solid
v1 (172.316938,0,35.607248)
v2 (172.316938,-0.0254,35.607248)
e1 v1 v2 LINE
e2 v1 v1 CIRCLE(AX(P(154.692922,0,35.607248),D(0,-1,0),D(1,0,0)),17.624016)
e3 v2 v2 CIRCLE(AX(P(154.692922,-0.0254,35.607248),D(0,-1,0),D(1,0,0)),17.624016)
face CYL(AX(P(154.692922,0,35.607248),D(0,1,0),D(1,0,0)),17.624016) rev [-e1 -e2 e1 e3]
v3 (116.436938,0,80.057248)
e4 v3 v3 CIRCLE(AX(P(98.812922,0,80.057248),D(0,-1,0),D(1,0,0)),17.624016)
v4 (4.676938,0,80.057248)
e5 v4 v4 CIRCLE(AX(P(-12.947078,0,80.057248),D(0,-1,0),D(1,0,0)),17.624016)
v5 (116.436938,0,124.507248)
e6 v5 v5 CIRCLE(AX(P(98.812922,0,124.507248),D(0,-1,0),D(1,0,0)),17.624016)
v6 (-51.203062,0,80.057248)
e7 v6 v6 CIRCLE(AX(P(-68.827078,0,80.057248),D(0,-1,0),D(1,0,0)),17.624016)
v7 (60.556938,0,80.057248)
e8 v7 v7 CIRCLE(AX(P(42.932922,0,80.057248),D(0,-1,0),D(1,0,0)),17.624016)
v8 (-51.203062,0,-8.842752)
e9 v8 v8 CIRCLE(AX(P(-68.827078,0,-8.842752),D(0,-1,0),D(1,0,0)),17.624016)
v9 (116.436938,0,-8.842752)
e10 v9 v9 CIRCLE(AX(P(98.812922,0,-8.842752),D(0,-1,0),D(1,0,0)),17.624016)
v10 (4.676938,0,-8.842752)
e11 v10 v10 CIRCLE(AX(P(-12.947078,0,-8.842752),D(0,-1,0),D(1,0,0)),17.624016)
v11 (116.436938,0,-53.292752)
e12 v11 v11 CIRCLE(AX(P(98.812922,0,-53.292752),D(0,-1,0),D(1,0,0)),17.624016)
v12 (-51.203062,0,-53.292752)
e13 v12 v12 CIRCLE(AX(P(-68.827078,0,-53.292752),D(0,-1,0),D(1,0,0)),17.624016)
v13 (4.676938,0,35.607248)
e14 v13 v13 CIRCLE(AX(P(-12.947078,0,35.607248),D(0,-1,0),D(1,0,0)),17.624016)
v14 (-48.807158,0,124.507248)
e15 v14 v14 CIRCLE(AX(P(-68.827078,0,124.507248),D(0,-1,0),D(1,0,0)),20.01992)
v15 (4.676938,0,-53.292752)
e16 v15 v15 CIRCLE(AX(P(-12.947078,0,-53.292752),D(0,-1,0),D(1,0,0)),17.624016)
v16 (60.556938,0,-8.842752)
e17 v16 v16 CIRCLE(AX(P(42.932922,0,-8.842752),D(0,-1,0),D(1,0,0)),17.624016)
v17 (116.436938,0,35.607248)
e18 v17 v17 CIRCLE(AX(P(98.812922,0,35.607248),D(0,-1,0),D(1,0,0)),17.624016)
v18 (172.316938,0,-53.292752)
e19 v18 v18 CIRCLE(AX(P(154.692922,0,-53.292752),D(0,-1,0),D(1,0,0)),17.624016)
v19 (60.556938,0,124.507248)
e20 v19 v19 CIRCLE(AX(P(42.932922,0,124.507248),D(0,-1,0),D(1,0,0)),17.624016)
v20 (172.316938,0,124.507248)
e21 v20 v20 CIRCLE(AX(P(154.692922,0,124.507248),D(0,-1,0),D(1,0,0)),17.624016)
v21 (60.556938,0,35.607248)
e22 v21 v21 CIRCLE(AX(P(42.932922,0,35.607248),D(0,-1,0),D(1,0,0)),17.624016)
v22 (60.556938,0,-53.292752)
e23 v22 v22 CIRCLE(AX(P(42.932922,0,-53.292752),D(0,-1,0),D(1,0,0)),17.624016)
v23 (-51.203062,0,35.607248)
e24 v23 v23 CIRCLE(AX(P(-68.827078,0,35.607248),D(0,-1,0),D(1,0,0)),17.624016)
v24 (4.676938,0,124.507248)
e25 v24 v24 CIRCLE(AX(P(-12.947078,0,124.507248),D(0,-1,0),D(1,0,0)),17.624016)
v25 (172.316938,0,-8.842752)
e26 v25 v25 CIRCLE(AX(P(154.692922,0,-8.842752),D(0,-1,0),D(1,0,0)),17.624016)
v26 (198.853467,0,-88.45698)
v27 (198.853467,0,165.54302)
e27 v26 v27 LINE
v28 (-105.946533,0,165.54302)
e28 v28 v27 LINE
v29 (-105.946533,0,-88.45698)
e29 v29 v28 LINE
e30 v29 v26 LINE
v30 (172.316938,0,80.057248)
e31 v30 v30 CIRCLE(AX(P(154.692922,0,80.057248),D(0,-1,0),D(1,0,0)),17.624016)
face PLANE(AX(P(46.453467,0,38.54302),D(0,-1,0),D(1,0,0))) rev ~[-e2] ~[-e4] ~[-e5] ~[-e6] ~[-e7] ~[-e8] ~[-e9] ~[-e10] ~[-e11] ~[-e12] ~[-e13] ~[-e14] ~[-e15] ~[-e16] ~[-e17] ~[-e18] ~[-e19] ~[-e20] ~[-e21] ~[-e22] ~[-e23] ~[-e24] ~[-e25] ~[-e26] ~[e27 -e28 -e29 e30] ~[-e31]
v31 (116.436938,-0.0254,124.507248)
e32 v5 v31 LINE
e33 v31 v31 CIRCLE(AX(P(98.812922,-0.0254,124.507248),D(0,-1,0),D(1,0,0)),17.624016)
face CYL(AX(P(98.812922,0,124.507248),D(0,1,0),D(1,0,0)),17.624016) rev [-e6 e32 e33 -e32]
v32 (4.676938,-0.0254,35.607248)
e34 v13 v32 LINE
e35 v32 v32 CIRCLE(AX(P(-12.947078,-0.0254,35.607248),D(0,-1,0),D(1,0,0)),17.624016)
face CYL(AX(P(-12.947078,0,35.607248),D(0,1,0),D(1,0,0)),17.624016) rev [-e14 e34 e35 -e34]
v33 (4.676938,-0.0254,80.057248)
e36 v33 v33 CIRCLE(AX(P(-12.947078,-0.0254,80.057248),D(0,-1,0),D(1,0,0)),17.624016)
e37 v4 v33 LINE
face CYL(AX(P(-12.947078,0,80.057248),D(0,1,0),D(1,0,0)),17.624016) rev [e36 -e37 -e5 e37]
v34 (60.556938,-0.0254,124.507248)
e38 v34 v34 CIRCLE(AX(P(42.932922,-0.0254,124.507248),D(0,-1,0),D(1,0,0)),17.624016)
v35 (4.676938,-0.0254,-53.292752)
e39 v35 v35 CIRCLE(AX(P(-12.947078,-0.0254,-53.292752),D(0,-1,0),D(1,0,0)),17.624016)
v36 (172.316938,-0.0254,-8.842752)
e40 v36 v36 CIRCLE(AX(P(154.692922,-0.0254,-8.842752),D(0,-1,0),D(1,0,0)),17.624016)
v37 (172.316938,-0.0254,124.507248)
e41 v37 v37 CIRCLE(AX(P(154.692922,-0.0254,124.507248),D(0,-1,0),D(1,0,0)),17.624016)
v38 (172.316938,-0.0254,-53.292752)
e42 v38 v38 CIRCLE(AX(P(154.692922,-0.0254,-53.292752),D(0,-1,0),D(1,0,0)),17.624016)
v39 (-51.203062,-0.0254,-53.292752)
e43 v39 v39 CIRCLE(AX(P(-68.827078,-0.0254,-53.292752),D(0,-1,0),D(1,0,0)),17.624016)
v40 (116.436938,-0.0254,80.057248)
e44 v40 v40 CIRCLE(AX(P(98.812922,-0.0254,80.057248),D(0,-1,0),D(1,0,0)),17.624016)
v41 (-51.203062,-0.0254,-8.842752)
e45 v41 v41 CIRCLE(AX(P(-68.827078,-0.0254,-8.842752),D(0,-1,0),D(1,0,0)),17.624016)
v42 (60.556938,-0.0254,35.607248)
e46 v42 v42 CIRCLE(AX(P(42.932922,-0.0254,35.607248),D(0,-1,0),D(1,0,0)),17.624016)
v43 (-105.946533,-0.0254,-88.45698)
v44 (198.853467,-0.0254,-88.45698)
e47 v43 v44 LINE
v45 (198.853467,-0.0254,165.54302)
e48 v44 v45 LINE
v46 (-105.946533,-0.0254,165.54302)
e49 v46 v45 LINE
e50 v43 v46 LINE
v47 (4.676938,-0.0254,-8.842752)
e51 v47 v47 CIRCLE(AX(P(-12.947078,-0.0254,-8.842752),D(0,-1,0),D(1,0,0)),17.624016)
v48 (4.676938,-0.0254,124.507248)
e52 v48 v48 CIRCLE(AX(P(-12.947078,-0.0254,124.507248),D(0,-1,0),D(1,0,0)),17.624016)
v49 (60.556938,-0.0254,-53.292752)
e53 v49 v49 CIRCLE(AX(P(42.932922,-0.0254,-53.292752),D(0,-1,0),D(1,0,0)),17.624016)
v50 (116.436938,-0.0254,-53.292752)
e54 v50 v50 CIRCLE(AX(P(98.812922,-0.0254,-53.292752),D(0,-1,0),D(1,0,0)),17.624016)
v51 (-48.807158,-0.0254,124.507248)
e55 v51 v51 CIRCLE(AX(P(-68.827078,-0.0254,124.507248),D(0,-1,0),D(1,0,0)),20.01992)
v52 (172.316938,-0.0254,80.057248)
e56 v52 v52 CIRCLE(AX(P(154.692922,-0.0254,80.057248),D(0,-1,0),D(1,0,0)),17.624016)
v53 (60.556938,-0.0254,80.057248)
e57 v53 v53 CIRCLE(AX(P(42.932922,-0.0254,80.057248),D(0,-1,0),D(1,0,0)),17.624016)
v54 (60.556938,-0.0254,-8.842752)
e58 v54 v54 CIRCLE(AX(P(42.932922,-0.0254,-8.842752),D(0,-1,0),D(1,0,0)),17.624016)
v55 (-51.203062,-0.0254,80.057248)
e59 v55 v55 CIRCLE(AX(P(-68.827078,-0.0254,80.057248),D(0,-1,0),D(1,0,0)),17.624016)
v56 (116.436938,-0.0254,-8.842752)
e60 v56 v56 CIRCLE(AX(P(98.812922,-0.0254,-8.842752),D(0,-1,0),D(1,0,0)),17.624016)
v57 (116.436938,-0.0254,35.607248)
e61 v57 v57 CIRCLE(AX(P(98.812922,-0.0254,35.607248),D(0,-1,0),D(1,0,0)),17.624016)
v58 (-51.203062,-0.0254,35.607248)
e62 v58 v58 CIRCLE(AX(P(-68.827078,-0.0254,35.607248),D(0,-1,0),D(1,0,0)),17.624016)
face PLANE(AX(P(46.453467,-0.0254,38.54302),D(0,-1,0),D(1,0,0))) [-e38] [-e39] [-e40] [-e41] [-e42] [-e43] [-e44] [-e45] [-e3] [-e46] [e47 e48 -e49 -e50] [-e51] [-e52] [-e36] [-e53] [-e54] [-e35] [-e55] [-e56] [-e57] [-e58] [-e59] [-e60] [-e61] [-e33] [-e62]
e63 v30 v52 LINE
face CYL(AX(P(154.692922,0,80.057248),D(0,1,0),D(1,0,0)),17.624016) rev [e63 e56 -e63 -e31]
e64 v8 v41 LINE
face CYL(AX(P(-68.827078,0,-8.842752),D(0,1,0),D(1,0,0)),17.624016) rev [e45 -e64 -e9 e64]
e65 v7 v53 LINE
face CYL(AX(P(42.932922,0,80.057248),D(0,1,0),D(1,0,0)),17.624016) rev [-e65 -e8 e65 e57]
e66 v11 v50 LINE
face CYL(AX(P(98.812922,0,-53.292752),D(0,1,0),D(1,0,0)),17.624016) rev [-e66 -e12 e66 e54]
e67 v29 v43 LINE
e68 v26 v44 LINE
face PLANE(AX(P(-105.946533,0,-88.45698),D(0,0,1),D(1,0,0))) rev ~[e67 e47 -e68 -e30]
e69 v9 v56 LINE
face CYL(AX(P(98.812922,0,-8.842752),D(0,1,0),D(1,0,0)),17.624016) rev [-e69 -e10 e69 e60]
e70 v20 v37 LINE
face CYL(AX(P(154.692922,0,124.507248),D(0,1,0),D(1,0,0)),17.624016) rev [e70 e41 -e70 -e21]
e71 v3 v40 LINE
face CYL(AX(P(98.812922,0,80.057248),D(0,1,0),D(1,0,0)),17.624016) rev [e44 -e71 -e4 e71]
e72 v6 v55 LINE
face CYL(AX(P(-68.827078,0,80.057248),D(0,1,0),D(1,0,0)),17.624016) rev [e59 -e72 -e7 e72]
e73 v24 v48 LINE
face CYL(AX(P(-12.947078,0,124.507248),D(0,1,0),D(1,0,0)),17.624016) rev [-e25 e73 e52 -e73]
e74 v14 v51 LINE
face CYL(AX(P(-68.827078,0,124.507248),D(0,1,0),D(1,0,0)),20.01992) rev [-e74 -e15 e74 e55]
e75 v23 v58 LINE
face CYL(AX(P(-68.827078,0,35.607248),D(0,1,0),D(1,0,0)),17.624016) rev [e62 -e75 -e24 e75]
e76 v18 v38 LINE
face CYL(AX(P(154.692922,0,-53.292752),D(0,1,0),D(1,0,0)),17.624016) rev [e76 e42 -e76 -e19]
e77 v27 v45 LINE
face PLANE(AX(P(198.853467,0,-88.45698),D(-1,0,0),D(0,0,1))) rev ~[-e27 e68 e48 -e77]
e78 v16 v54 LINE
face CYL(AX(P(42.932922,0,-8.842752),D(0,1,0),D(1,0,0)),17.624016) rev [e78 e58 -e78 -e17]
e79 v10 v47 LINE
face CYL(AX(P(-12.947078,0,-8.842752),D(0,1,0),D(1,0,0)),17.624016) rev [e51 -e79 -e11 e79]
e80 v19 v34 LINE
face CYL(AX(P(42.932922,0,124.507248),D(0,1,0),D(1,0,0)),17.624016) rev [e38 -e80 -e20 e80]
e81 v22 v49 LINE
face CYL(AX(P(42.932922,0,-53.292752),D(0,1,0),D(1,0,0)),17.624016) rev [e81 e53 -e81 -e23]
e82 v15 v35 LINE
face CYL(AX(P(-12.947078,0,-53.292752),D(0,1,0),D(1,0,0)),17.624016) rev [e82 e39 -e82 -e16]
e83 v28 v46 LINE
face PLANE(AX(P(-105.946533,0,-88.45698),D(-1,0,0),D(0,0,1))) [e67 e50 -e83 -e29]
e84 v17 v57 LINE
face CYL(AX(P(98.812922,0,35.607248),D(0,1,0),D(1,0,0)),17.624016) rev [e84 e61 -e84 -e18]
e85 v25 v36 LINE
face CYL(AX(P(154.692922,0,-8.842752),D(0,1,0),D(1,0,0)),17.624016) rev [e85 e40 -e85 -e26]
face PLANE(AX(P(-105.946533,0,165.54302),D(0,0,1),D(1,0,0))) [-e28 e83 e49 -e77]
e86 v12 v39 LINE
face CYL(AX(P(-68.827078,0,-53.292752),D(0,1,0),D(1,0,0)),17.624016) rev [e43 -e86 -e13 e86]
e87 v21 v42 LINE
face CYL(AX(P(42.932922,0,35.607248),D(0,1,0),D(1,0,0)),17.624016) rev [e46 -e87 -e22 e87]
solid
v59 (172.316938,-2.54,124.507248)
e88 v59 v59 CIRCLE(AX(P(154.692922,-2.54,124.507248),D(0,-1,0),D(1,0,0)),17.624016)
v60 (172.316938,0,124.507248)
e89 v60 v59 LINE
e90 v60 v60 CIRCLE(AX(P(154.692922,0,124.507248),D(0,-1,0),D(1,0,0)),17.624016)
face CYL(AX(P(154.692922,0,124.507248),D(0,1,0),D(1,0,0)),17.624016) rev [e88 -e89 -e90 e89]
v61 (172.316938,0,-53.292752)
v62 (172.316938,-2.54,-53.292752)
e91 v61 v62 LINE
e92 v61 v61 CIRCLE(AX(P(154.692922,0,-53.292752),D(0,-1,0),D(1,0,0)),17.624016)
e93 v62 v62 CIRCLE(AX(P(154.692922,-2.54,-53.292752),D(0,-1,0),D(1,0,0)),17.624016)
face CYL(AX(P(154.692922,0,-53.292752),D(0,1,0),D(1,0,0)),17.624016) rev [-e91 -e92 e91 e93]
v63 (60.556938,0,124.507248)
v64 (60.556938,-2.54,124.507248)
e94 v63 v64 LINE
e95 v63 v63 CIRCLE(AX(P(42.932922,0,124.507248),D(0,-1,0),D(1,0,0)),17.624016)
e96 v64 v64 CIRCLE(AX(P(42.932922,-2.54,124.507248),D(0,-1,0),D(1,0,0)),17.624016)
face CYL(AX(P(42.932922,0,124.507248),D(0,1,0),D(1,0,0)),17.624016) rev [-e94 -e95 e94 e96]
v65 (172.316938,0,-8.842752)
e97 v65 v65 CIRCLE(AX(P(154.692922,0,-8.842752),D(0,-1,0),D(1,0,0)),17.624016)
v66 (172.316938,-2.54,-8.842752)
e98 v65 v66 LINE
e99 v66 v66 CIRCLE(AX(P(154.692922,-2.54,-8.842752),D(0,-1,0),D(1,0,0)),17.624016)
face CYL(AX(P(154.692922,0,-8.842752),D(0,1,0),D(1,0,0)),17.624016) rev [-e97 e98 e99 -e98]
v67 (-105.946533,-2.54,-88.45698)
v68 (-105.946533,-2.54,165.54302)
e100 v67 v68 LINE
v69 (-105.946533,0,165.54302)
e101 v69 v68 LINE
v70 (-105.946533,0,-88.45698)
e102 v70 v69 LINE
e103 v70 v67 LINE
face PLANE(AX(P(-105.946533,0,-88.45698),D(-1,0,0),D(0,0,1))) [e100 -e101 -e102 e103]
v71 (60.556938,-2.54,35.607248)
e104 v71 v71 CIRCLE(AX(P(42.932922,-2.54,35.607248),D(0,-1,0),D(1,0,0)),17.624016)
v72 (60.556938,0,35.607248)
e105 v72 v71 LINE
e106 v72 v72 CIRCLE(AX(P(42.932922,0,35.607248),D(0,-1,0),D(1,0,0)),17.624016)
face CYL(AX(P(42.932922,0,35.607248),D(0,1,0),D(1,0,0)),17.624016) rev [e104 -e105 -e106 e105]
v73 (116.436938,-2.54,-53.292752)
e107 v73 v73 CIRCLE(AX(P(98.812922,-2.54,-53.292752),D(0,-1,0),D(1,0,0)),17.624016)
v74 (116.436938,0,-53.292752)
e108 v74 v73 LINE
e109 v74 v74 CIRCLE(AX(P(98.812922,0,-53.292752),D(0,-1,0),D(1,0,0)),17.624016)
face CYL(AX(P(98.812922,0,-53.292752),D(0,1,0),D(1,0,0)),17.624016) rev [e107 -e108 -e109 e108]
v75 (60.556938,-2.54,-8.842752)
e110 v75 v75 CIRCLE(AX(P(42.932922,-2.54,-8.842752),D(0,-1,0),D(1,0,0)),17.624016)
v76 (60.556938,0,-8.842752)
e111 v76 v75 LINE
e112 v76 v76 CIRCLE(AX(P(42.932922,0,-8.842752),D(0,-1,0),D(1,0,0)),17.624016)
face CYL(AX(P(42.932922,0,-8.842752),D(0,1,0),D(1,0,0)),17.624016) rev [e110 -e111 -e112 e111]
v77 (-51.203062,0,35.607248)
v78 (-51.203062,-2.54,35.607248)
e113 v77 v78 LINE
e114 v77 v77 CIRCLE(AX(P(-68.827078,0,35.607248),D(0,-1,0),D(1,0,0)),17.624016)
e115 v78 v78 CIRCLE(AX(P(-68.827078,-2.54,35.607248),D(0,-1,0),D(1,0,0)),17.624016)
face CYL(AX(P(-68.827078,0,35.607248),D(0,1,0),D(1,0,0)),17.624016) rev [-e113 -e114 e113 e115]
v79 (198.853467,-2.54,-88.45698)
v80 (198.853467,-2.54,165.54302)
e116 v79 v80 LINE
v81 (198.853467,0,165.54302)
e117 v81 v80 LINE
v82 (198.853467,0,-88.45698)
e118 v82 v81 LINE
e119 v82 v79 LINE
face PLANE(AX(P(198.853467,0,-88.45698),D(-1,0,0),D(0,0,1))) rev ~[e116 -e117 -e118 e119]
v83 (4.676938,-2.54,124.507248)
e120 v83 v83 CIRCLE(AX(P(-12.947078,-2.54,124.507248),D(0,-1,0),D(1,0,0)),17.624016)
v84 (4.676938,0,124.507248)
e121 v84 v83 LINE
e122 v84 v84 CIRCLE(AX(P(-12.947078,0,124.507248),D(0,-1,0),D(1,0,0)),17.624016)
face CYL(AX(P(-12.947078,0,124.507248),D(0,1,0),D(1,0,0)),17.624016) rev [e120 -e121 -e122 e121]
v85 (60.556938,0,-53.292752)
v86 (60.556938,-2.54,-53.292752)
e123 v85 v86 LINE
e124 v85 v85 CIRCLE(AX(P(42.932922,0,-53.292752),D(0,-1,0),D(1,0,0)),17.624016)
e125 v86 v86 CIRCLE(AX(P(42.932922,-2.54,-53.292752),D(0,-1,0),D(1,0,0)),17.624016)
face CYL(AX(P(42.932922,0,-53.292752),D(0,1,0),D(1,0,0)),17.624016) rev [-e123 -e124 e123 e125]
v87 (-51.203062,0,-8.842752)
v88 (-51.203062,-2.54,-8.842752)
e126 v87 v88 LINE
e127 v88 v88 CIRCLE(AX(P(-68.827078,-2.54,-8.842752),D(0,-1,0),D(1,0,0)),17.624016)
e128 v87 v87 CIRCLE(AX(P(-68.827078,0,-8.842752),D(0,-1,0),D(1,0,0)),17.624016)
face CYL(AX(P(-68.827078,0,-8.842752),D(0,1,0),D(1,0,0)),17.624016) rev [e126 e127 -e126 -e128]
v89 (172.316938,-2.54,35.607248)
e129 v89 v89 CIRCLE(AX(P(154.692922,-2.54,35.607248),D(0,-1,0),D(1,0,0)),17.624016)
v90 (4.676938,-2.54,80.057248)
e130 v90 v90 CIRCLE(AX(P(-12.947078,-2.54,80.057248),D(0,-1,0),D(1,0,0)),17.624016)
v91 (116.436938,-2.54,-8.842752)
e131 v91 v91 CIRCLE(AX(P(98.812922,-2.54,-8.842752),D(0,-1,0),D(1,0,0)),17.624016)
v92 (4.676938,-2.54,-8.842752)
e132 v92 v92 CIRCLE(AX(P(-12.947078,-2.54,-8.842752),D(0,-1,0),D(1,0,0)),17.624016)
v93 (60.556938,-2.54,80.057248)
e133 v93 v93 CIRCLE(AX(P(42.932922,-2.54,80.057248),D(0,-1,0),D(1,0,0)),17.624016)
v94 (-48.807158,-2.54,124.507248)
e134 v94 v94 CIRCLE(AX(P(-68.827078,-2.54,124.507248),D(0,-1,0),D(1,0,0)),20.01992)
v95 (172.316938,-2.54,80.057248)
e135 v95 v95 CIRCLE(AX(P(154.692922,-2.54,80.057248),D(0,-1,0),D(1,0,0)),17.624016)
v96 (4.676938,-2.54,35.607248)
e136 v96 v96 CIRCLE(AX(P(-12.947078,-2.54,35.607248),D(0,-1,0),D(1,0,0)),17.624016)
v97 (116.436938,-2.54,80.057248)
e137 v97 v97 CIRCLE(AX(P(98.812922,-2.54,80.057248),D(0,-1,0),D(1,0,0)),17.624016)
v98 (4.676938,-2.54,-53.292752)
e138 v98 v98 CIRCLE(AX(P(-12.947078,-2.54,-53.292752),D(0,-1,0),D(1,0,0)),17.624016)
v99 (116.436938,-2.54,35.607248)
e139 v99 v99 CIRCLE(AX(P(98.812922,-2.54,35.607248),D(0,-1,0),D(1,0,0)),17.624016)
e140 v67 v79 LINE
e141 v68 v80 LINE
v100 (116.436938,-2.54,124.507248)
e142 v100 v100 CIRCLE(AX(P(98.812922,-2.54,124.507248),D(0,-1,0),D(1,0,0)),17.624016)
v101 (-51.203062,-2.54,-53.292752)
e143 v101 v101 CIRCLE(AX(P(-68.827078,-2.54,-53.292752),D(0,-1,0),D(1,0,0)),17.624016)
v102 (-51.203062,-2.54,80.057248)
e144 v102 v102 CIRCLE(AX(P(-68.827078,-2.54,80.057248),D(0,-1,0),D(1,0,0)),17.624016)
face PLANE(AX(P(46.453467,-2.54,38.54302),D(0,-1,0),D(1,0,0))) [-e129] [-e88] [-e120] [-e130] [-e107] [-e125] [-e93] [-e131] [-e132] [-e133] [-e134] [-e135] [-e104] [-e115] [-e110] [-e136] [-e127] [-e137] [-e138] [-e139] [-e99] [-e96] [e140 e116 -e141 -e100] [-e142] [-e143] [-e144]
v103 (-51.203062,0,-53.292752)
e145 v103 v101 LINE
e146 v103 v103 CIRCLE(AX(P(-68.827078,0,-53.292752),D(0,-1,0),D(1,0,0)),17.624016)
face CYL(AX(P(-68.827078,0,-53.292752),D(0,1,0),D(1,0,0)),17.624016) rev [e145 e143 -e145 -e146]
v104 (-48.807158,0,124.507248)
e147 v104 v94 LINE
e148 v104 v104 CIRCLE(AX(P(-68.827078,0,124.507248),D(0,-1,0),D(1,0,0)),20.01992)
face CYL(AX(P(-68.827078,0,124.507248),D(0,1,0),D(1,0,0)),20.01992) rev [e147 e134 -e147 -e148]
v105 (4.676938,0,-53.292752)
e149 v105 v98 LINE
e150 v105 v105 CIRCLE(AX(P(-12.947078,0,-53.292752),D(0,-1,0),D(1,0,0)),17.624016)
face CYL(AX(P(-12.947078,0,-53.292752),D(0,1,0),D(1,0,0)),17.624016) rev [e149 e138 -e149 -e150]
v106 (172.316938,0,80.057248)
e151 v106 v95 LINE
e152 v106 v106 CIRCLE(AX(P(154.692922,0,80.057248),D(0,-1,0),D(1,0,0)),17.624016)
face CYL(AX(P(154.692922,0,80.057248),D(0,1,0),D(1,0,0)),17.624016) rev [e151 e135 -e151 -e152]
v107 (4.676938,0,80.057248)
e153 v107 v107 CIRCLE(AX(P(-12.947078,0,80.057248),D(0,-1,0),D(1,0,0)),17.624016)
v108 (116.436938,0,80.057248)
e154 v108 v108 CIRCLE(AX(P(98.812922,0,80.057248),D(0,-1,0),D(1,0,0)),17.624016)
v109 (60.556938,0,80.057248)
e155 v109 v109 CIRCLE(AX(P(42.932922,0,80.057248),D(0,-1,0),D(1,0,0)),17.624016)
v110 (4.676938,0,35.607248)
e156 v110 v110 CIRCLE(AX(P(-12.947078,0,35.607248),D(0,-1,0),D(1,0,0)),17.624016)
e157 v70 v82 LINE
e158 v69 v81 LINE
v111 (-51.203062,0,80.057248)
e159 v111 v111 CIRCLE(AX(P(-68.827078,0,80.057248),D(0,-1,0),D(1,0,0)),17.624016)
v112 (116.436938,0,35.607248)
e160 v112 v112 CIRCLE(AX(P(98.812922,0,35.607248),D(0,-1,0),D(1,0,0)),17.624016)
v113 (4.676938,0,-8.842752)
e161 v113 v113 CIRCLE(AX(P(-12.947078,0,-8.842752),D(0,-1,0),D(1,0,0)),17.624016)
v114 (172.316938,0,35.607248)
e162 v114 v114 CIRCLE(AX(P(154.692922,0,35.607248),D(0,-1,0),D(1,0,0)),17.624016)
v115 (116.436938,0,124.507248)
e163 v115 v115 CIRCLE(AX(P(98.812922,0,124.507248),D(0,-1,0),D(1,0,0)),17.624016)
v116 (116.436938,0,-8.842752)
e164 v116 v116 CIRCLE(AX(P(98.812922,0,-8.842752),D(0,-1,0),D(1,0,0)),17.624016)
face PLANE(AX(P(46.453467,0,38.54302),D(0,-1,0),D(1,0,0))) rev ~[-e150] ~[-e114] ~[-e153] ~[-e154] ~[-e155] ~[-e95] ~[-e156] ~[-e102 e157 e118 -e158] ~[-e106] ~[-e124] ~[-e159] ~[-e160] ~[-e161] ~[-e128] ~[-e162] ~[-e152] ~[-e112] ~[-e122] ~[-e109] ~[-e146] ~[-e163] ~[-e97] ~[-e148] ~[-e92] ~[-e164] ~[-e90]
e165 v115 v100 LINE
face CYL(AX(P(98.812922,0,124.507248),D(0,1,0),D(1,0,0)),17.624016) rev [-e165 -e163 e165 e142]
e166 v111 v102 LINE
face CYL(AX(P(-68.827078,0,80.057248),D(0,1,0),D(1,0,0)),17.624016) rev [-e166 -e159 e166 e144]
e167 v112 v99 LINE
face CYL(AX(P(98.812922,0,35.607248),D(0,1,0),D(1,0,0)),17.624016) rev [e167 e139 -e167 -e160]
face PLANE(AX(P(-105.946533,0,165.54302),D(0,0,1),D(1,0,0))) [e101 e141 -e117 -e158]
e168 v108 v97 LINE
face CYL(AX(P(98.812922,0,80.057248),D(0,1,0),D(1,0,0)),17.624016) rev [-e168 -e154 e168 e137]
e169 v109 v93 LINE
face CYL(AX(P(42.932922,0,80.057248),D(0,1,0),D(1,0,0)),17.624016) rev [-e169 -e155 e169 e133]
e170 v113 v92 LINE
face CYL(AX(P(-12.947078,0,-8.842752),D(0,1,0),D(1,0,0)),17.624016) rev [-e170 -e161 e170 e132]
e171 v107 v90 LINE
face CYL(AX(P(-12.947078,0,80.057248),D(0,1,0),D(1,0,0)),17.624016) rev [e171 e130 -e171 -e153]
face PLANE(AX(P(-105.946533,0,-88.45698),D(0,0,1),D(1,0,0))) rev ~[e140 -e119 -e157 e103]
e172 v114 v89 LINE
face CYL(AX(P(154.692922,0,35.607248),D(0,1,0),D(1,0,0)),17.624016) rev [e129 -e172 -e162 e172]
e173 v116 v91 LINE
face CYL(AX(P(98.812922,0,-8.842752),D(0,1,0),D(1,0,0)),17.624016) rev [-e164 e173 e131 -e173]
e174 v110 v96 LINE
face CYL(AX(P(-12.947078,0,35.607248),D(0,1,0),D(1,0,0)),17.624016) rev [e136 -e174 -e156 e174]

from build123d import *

# Parameters (mm, degrees)
F0_W     = 304.8
F0_H     = 254
F0_R     = 17.624016
F0_R_2   = 20.01992
F1_DEPTH = 2.54
F2_DEPTH = 0.0254


with BuildPart() as f1:
    # F0 (on Front) → F1 (new body)
    with BuildSketch(Plane.XZ):
        with Locations((46.453467, 38.54302)):
            Rectangle(F0_W, F0_H)
        with Locations((-68.827078, -53.292752)):
            Circle(F0_R, mode=Mode.SUBTRACT)
        with Locations((-12.947078, -53.292752)):
            Circle(F0_R, mode=Mode.SUBTRACT)
        with Locations((42.932922, -53.292752)):
            Circle(F0_R, mode=Mode.SUBTRACT)
        with Locations((-68.827078, -8.842752)):
            Circle(F0_R, mode=Mode.SUBTRACT)
        with Locations((-68.827078, 35.607248)):
            Circle(F0_R, mode=Mode.SUBTRACT)
        with Locations((-12.947078, -8.842752)):
            Circle(F0_R, mode=Mode.SUBTRACT)
        with Locations((42.932922, -8.842752)):
            Circle(F0_R, mode=Mode.SUBTRACT)
        with Locations((-12.947078, 35.607248)):
            Circle(F0_R, mode=Mode.SUBTRACT)
        with Locations((42.932922, 35.607248)):
            Circle(F0_R, mode=Mode.SUBTRACT)
        with Locations((98.812922, -53.292752)):
            Circle(F0_R, mode=Mode.SUBTRACT)
        with Locations((154.692922, -53.292752)):
            Circle(F0_R, mode=Mode.SUBTRACT)
        with Locations((98.812922, -8.842752)):
            Circle(F0_R, mode=Mode.SUBTRACT)
        with Locations((98.812922, 35.607248)):
            Circle(F0_R, mode=Mode.SUBTRACT)
        with Locations((154.692922, -8.842752)):
            Circle(F0_R, mode=Mode.SUBTRACT)
        with Locations((154.692922, 35.607248)):
            Circle(F0_R, mode=Mode.SUBTRACT)
        with Locations((-68.827078, 80.057248)):
            Circle(F0_R, mode=Mode.SUBTRACT)
        with Locations((-12.947078, 80.057248)):
            Circle(F0_R, mode=Mode.SUBTRACT)
        with Locations((42.932922, 80.057248)):
            Circle(F0_R, mode=Mode.SUBTRACT)
        with Locations((-68.827078, 124.507248)):
            Circle(F0_R_2, mode=Mode.SUBTRACT)
        with Locations((-12.947078, 124.507248)):
            Circle(F0_R, mode=Mode.SUBTRACT)
        with Locations((42.932922, 124.507248)):
            Circle(F0_R, mode=Mode.SUBTRACT)
        with Locations((98.812922, 80.057248)):
            Circle(F0_R, mode=Mode.SUBTRACT)
        with Locations((154.692922, 80.057248)):
            Circle(F0_R, mode=Mode.SUBTRACT)
        with Locations((98.812922, 124.507248)):
            Circle(F0_R, mode=Mode.SUBTRACT)
        with Locations((154.692922, 124.507248)):
            Circle(F0_R, mode=Mode.SUBTRACT)
    extrude(amount=F1_DEPTH)


with BuildPart() as f2:
    # F0 (on Front) → F2 (new body)
    with BuildSketch(Plane.XZ):
        with Locations((46.453467, 38.54302)):
            Rectangle(F0_W, F0_H)
        with Locations((-68.827078, -53.292752)):
            Circle(F0_R, mode=Mode.SUBTRACT)
        with Locations((-12.947078, -53.292752)):
            Circle(F0_R, mode=Mode.SUBTRACT)
        with Locations((42.932922, -53.292752)):
            Circle(F0_R, mode=Mode.SUBTRACT)
        with Locations((-68.827078, -8.842752)):
            Circle(F0_R, mode=Mode.SUBTRACT)
        with Locations((-68.827078, 35.607248)):
            Circle(F0_R, mode=Mode.SUBTRACT)
        with Locations((-12.947078, -8.842752)):
            Circle(F0_R, mode=Mode.SUBTRACT)
        with Locations((42.932922, -8.842752)):
            Circle(F0_R, mode=Mode.SUBTRACT)
        with Locations((-12.947078, 35.607248)):
            Circle(F0_R, mode=Mode.SUBTRACT)
        with Locations((42.932922, 35.607248)):
            Circle(F0_R, mode=Mode.SUBTRACT)
        with Locations((98.812922, -53.292752)):
            Circle(F0_R, mode=Mode.SUBTRACT)
        with Locations((154.692922, -53.292752)):
            Circle(F0_R, mode=Mode.SUBTRACT)
        with Locations((98.812922, -8.842752)):
            Circle(F0_R, mode=Mode.SUBTRACT)
        with Locations((98.812922, 35.607248)):
            Circle(F0_R, mode=Mode.SUBTRACT)
        with Locations((154.692922, -8.842752)):
            Circle(F0_R, mode=Mode.SUBTRACT)
        with Locations((154.692922, 35.607248)):
            Circle(F0_R, mode=Mode.SUBTRACT)
        with Locations((-68.827078, 80.057248)):
            Circle(F0_R, mode=Mode.SUBTRACT)
        with Locations((-12.947078, 80.057248)):
            Circle(F0_R, mode=Mode.SUBTRACT)
        with Locations((42.932922, 80.057248)):
            Circle(F0_R, mode=Mode.SUBTRACT)
        with Locations((-68.827078, 124.507248)):
            Circle(F0_R_2, mode=Mode.SUBTRACT)
        with Locations((-12.947078, 124.507248)):
            Circle(F0_R, mode=Mode.SUBTRACT)
        with Locations((42.932922, 124.507248)):
            Circle(F0_R, mode=Mode.SUBTRACT)
        with Locations((98.812922, 80.057248)):
            Circle(F0_R, mode=Mode.SUBTRACT)
        with Locations((154.692922, 80.057248)):
            Circle(F0_R, mode=Mode.SUBTRACT)
        with Locations((98.812922, 124.507248)):
            Circle(F0_R, mode=Mode.SUBTRACT)
        with Locations((154.692922, 124.507248)):
            Circle(F0_R, mode=Mode.SUBTRACT)
    extrude(amount=F2_DEPTH)


solid = Compound([f1.part, f2.part])
